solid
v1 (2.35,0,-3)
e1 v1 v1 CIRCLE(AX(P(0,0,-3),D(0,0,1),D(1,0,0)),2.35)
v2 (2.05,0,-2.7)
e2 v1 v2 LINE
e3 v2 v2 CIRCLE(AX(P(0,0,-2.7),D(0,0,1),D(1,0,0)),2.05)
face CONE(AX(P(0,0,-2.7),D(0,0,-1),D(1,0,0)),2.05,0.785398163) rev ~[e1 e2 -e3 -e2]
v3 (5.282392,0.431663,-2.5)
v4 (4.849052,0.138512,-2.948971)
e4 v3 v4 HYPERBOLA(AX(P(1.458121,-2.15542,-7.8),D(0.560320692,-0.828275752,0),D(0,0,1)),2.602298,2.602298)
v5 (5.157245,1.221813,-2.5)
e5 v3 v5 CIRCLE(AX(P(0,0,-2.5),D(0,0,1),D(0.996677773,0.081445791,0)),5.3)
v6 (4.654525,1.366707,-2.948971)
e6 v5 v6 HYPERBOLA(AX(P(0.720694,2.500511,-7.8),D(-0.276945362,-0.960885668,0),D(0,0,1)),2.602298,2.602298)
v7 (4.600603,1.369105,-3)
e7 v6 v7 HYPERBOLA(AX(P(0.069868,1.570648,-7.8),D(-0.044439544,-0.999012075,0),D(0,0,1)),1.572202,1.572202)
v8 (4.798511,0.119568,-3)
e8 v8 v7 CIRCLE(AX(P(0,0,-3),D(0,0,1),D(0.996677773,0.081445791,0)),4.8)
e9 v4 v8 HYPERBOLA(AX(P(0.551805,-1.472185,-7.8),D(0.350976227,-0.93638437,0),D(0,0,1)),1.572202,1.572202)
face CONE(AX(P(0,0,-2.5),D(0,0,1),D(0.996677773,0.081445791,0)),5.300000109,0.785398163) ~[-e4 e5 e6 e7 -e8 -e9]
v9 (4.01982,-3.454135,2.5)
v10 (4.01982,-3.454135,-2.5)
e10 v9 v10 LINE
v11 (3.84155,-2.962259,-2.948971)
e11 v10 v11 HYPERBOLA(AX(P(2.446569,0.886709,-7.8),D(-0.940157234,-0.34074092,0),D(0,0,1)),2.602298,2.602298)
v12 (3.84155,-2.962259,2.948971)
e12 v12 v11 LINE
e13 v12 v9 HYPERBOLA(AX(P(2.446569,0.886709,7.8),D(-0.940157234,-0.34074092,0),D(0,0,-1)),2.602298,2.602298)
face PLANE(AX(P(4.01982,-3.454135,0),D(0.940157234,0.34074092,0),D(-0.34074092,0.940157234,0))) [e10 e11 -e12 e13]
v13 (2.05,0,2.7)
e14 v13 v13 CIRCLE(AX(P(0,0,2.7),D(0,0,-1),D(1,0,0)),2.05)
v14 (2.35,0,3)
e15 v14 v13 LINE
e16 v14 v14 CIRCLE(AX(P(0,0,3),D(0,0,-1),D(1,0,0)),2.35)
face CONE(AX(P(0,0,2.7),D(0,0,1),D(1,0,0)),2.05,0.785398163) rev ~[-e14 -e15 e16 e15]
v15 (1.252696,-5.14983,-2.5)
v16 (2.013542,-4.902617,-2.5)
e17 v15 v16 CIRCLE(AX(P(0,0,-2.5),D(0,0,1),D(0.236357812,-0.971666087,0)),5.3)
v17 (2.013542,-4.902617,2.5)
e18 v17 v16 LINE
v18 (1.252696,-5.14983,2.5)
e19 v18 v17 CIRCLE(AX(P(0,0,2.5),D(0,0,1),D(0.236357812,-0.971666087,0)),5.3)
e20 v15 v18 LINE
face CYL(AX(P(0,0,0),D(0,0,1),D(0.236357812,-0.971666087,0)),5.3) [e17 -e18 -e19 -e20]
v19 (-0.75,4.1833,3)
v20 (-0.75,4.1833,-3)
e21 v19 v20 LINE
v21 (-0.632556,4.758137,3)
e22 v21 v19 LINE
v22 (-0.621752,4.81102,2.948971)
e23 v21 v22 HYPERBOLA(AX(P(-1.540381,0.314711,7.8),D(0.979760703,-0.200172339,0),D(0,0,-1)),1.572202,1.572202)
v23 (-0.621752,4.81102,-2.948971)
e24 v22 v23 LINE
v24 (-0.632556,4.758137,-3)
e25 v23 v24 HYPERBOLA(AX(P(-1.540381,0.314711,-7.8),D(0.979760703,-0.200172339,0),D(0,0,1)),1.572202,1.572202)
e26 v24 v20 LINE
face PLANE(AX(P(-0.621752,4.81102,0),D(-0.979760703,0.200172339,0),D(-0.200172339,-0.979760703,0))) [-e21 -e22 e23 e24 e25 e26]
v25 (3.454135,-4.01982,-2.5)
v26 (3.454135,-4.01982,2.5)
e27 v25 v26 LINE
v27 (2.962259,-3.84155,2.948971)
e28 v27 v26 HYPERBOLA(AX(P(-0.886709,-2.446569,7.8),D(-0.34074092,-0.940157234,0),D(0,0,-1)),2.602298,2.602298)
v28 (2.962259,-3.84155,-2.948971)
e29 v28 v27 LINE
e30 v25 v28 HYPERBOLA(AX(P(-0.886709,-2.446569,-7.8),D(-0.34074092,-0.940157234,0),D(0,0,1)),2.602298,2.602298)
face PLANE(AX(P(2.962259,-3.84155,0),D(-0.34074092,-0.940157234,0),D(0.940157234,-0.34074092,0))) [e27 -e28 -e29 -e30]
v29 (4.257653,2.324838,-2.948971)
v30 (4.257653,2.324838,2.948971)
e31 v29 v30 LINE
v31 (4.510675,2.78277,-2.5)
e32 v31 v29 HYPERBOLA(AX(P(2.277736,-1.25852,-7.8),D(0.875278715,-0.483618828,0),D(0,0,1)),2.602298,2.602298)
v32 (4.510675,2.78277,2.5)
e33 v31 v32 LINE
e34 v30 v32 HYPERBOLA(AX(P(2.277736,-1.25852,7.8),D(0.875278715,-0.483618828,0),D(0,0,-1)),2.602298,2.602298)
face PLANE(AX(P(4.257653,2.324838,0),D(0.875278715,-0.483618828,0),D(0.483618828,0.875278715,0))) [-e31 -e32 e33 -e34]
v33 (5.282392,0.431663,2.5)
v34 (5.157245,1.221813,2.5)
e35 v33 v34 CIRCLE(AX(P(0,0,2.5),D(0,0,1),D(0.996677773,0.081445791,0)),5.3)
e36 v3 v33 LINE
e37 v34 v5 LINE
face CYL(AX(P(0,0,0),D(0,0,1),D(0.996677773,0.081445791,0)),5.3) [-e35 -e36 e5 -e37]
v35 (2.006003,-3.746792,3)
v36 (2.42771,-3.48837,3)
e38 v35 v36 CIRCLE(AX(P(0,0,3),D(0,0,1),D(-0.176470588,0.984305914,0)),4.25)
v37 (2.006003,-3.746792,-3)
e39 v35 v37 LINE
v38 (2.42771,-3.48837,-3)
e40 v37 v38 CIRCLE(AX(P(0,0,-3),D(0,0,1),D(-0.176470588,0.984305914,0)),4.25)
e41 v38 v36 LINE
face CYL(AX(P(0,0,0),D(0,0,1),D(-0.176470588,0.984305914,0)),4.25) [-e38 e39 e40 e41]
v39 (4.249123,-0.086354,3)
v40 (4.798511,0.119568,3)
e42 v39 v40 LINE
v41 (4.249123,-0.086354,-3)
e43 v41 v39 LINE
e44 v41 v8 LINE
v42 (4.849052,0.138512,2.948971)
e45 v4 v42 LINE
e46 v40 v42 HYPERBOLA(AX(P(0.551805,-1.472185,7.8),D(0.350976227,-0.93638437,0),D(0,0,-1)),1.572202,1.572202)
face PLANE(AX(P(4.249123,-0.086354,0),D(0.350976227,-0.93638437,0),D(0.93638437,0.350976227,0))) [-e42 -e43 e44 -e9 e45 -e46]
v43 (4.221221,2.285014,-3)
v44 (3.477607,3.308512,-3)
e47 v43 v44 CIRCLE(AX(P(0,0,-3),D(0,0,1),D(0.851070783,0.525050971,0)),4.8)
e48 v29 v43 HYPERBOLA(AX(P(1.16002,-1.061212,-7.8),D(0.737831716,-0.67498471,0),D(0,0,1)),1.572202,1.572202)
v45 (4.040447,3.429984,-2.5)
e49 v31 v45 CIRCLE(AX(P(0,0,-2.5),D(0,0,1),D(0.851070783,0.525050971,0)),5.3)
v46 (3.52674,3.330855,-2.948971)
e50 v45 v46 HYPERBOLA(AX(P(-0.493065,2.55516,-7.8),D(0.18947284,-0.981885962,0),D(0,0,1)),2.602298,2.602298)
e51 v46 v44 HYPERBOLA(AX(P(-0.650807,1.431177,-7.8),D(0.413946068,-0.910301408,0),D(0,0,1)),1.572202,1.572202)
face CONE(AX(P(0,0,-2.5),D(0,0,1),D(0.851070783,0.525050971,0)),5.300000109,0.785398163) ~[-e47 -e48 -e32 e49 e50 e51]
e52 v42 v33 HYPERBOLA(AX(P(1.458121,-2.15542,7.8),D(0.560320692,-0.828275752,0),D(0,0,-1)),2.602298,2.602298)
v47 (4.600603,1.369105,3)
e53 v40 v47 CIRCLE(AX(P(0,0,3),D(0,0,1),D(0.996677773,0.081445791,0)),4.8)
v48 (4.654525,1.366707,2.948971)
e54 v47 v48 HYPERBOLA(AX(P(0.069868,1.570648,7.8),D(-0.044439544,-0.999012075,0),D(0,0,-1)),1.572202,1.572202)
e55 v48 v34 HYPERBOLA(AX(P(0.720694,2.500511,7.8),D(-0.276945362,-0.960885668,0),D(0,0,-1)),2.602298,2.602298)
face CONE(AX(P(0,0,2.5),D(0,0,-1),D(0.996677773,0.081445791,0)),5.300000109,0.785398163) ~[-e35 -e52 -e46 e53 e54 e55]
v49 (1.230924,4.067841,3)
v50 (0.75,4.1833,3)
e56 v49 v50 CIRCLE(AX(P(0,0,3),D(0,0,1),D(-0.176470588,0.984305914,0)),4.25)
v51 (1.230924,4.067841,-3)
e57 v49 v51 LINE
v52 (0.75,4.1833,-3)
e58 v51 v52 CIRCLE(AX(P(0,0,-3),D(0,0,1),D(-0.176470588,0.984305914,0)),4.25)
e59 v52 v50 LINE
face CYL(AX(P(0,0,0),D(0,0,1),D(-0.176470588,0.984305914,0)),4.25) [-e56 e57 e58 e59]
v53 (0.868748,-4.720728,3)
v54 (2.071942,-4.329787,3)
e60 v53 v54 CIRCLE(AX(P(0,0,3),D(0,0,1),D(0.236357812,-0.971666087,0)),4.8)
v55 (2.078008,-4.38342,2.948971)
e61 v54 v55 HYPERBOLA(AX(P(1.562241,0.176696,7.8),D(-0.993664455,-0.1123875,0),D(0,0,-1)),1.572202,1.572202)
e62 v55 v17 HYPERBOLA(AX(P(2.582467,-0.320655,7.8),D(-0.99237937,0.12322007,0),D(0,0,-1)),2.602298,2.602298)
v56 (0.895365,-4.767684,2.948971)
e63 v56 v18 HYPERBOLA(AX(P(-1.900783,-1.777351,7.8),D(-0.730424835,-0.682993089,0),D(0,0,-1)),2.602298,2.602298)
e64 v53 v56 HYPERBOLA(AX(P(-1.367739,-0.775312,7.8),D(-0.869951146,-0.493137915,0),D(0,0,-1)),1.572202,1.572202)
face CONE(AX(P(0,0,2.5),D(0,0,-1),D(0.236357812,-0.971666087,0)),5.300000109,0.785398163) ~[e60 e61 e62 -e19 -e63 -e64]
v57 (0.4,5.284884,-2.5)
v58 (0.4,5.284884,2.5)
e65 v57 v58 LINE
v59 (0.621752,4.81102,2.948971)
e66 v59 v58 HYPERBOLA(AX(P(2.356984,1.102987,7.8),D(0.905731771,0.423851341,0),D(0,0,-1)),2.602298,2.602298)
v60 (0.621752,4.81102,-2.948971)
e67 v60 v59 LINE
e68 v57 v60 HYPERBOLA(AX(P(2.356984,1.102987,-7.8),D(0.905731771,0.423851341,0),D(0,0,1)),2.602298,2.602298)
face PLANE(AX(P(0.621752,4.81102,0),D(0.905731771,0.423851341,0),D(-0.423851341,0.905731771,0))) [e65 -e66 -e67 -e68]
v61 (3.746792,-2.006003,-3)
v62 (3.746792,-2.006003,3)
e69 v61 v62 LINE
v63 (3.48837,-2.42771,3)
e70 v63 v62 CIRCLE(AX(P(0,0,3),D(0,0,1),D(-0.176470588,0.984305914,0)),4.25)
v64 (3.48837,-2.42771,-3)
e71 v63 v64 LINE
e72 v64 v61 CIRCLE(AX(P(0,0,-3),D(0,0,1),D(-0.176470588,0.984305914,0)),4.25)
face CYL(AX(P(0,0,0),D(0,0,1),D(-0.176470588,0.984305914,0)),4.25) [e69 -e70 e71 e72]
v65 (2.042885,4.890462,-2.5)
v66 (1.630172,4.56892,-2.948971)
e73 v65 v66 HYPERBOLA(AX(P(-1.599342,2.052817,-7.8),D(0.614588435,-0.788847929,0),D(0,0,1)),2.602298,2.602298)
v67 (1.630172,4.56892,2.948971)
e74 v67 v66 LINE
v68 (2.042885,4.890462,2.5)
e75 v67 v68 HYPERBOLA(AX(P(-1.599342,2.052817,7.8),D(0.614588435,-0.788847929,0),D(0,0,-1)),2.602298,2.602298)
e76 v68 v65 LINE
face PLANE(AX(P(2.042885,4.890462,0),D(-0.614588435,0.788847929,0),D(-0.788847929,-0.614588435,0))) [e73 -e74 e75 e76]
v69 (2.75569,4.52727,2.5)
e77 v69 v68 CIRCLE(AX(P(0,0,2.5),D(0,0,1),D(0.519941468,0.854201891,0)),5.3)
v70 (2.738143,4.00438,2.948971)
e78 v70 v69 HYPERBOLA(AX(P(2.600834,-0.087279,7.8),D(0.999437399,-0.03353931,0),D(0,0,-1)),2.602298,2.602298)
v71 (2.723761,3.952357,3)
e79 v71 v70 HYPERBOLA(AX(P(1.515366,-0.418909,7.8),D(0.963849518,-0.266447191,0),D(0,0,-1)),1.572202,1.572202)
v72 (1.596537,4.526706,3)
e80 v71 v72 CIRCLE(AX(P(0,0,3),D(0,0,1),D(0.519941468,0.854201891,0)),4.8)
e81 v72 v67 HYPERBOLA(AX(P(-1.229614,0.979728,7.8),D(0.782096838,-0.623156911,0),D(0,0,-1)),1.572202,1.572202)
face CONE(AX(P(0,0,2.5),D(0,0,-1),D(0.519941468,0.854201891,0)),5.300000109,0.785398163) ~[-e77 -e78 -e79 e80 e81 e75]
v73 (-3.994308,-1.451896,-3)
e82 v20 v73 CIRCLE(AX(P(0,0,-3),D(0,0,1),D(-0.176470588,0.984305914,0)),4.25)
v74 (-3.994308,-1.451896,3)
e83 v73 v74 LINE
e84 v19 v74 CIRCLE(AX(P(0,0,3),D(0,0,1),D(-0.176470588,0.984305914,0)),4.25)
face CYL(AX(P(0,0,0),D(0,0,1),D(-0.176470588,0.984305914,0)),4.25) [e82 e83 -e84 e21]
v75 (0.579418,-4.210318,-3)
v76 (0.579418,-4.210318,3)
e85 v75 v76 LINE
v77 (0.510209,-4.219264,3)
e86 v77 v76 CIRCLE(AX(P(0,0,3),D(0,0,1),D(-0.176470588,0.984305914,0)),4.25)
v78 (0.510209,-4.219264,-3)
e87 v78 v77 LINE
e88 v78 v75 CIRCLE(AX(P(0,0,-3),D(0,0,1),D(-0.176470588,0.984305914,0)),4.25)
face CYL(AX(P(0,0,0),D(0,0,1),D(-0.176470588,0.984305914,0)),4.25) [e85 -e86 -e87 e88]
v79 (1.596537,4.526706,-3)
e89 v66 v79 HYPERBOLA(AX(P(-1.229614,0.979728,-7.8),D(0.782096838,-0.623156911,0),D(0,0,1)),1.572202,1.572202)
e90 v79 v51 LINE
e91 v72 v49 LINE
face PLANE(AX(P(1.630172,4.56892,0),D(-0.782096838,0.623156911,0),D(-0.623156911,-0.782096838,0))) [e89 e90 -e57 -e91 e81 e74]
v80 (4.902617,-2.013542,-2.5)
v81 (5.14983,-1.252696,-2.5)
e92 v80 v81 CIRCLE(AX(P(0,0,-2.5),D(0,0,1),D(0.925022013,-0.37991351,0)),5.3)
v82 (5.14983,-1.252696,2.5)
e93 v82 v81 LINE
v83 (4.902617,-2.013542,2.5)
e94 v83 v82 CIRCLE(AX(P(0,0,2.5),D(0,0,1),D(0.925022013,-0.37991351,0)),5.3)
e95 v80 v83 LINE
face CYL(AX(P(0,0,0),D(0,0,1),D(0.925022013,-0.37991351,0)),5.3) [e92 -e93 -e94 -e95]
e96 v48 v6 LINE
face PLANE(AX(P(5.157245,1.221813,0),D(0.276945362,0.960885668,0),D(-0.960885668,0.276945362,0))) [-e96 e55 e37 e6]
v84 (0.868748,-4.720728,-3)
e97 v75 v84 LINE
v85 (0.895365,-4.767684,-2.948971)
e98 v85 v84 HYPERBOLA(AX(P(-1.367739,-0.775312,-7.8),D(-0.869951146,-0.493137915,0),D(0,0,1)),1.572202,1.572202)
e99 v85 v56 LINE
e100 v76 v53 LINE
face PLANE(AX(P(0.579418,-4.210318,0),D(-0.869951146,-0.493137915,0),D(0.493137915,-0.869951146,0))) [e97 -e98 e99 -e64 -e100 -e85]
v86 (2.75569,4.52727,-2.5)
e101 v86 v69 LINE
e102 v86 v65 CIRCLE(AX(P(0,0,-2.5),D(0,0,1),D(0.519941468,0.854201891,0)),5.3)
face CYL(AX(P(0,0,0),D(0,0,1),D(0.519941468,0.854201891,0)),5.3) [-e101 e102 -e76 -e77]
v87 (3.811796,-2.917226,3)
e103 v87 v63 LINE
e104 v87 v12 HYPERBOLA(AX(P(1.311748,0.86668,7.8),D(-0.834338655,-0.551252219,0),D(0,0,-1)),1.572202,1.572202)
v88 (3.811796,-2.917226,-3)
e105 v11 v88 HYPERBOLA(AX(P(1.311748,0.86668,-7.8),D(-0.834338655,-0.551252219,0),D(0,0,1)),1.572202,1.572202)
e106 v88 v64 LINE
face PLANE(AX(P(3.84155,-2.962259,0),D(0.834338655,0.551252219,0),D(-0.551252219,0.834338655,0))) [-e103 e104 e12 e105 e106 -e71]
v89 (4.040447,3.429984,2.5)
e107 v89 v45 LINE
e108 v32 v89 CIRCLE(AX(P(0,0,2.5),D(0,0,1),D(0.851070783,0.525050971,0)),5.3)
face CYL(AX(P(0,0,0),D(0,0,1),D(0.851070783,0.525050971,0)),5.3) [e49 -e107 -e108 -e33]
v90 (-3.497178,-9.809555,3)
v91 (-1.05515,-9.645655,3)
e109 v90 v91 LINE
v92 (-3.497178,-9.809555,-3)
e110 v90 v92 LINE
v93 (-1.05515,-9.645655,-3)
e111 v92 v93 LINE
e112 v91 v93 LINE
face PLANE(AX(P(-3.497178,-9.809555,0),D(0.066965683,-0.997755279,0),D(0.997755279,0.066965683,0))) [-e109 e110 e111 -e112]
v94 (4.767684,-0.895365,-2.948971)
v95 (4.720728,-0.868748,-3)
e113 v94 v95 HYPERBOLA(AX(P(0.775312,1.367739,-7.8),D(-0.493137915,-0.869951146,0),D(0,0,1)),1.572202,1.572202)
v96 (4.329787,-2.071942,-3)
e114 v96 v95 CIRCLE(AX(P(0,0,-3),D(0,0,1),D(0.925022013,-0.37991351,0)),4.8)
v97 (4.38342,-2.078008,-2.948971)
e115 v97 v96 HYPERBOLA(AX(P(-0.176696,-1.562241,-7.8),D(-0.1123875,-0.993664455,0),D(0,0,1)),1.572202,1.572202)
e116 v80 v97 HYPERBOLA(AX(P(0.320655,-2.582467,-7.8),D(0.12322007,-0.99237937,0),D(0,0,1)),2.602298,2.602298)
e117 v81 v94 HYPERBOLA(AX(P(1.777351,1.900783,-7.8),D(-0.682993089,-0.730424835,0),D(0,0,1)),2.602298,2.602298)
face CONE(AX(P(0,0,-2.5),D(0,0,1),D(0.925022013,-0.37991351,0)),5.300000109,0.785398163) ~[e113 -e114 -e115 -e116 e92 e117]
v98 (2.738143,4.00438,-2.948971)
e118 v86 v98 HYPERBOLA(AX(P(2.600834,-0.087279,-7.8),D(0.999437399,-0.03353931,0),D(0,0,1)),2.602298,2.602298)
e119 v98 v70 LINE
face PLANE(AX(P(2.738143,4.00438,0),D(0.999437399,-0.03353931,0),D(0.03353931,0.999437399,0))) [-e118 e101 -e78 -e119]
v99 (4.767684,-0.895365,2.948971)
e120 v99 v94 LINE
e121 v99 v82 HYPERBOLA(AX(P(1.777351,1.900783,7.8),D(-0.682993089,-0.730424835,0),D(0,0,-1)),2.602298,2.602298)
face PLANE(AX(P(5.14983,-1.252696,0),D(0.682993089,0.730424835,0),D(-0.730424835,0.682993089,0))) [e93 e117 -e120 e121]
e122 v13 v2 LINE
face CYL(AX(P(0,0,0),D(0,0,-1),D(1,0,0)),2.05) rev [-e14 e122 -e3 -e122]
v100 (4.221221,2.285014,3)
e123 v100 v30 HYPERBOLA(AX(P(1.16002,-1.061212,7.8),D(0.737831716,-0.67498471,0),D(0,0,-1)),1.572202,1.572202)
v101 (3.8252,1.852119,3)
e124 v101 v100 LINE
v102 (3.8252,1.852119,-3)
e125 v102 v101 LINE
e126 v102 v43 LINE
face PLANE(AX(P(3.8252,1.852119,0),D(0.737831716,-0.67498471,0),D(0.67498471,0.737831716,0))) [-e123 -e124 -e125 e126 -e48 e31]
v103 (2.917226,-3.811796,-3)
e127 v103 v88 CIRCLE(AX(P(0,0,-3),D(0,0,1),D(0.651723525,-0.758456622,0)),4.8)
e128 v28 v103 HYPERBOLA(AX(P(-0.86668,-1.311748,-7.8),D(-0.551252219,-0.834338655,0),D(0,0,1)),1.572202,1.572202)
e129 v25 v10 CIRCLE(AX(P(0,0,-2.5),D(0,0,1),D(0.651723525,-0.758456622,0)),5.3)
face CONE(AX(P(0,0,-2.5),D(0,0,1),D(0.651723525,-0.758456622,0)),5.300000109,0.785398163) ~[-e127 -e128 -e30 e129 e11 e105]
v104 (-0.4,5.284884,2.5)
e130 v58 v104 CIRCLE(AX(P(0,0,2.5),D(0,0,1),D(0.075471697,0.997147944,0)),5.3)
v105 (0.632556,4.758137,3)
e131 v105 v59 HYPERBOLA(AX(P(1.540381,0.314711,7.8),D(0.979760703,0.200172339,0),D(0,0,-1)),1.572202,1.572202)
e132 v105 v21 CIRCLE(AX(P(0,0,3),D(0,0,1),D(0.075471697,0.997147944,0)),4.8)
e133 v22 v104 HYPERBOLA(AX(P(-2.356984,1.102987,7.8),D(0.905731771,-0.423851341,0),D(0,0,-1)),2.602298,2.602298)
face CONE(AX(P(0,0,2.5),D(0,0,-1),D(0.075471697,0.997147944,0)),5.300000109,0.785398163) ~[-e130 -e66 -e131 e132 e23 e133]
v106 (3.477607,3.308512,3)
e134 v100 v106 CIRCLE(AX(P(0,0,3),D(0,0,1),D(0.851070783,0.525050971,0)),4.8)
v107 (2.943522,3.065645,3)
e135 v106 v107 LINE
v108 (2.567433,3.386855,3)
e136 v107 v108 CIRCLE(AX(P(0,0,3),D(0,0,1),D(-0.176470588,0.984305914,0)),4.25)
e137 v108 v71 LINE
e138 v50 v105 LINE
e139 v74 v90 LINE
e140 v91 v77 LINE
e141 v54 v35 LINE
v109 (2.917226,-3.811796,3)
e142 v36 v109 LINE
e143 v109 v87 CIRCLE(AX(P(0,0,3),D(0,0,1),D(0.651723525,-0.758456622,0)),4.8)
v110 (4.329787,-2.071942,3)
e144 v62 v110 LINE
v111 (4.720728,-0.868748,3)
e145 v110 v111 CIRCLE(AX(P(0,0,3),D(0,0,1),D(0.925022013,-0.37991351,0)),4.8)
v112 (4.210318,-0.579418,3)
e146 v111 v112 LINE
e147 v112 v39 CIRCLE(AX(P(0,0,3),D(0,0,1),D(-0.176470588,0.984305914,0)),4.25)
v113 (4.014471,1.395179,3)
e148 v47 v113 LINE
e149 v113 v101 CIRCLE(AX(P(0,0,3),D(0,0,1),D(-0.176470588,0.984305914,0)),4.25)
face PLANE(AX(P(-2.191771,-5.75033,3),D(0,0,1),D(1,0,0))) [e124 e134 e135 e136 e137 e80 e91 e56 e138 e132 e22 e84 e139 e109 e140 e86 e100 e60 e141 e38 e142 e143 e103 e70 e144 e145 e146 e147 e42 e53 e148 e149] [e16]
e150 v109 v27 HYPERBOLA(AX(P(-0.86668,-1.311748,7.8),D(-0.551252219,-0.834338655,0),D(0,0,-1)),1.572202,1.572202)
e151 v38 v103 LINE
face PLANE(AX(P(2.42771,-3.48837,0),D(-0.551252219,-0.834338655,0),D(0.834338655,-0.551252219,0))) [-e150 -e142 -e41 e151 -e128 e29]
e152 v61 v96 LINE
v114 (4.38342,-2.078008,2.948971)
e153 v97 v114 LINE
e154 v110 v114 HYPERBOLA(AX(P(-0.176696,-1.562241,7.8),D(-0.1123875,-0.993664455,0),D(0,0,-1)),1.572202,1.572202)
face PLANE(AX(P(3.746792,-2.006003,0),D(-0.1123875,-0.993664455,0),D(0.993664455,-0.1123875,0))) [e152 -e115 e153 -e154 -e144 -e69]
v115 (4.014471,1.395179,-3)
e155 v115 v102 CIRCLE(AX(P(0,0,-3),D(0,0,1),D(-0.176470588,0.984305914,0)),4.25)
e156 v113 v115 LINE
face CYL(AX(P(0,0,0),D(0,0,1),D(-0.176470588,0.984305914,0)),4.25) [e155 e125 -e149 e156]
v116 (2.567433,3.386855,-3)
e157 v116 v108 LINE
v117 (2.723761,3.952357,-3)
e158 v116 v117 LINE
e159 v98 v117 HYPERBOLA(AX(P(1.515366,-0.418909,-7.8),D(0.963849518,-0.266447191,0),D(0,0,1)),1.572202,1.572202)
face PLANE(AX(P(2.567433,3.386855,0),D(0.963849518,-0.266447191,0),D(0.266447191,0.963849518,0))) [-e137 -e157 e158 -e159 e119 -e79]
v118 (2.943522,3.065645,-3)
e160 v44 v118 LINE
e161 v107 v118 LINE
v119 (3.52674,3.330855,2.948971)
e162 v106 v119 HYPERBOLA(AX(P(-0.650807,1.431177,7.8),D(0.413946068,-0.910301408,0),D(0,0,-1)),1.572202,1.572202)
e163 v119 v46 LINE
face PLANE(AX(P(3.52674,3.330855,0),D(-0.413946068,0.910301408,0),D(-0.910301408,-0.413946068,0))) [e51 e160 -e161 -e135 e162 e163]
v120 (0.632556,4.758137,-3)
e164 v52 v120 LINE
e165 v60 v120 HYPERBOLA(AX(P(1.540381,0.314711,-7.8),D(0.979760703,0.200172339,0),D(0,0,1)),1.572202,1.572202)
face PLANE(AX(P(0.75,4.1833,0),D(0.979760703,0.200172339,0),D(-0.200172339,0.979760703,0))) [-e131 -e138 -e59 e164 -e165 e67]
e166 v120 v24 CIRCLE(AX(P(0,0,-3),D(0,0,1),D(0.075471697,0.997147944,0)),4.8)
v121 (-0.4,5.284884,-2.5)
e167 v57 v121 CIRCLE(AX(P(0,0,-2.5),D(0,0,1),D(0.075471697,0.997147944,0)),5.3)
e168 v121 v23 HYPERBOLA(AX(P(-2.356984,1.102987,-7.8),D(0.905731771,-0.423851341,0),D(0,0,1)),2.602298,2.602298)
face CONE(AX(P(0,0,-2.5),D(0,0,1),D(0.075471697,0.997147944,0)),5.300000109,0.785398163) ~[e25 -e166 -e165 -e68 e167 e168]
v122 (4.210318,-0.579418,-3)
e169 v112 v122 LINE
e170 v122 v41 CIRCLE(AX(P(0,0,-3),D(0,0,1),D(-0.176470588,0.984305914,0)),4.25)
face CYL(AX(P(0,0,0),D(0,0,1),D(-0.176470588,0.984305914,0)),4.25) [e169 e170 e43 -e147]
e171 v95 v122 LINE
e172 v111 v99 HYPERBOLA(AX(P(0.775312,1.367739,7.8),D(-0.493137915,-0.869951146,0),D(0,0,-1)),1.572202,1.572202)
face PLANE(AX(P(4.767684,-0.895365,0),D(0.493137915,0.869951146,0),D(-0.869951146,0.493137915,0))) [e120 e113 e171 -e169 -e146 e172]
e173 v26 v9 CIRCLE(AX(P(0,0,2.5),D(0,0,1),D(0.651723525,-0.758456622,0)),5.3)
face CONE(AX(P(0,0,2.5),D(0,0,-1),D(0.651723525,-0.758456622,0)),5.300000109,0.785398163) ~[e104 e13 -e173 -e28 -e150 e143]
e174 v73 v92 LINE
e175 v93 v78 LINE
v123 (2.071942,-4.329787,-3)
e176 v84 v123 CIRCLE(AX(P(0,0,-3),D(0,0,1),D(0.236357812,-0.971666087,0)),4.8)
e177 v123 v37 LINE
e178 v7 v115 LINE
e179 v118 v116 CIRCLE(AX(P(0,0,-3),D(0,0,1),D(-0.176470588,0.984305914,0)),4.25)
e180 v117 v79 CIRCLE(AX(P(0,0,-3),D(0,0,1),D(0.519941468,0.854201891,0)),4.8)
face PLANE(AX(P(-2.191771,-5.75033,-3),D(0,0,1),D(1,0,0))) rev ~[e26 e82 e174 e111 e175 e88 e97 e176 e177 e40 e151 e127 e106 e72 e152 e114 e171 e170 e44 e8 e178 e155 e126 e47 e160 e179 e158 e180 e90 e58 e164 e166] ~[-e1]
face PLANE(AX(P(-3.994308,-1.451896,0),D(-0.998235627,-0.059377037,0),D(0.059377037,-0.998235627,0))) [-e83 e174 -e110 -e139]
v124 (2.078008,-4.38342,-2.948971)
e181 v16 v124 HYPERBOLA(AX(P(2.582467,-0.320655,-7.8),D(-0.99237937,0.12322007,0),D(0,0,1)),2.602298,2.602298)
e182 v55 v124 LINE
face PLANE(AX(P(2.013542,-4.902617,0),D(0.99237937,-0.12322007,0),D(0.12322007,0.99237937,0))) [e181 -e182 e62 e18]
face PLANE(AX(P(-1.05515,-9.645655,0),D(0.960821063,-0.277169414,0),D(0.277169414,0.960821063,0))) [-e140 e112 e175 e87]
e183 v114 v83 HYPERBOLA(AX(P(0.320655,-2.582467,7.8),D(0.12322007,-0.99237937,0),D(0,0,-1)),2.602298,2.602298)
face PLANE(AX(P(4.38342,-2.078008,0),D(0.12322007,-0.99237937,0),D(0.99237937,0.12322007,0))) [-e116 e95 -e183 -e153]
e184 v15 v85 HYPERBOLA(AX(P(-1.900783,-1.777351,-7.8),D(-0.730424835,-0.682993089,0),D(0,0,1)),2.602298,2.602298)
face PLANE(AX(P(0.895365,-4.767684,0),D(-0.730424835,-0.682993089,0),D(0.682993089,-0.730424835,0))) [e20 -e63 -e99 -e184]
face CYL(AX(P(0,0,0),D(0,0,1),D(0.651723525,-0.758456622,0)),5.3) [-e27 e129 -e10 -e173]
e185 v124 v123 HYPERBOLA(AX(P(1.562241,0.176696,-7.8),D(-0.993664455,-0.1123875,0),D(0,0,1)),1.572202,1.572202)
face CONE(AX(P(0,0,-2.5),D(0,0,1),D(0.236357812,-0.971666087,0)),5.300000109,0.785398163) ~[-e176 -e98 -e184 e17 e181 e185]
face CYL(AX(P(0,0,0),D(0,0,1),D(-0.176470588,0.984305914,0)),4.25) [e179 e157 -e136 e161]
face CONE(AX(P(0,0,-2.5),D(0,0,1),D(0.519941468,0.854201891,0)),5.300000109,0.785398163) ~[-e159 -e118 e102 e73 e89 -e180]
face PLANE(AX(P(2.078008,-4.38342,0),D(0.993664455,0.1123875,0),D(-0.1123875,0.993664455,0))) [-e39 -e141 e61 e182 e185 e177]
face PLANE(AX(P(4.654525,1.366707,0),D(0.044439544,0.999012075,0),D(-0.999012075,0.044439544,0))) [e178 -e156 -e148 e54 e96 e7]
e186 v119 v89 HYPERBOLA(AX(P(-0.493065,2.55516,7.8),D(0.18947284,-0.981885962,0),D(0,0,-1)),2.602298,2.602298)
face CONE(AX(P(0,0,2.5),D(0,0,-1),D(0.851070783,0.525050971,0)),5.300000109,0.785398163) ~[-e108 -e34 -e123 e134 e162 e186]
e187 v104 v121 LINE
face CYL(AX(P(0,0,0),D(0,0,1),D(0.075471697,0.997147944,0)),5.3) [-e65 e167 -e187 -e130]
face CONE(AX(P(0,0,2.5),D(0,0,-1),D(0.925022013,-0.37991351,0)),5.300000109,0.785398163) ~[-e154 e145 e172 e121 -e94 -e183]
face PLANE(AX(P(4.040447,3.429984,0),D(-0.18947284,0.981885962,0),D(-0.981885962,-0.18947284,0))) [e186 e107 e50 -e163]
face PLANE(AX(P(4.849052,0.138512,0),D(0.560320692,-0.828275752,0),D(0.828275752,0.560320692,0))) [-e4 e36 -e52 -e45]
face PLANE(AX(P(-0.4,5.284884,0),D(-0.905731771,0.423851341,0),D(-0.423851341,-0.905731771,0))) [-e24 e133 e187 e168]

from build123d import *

# Parameters (mm, degrees)
SKETCH_1_R               = 2.05
EXTRUDE_1_DEPTH          = 3
PATTERN_CIRCULAR_1_COUNT = 7
PATTERN_CIRCULAR_1_ANGLE = 162
CHAMFER_1_SIZE           = 0.5
CHAMFER_2_SIZE           = 0.5
CHAMFER_3_SIZE           = 0.3
EXTRUDE_2_DEPTH          = 3


with BuildPart() as part:
    # 스케치1 → 보스-돌출1 (new, symmetric)
    with BuildSketch(Plane.XY):
        with BuildLine():
            ThreePointArc((-0.75, 4.183300133), (0, -4.25), (0.75, 4.183300133))
            Line((0.75, 4.183300133), (0.621752267, 4.811019676))
            Line((0.621752267, 4.811019676), (0.4, 5.284884105))
            ThreePointArc((0.4, 5.284884105), (0, 5.3), (-0.4, 5.284884105))
            Line((-0.4, 5.284884105), (-0.621752267, 4.811019676))
            Line((-0.621752267, 4.811019676), (-0.75, 4.183300133))
        make_face()
        Circle(SKETCH_1_R, mode=Mode.SUBTRACT)
    extrude_1 = extrude(amount=EXTRUDE_1_DEPTH, both=True)

    # 원형 패턴1: 보스-돌출1 ×7 about axis
    pattern_circular_1_axis = Axis((0, 0, 0), (0, 0, -1))
    for i in range(1, PATTERN_CIRCULAR_1_COUNT):
        add(extrude_1.rotate(pattern_circular_1_axis, i * PATTERN_CIRCULAR_1_ANGLE / (PATTERN_CIRCULAR_1_COUNT - 1)))

    # 모따기1
    chamfer_1_edges = [part.edges().sort_by_distance(p)[0] for p in [
        (0, 5.3, -3),
        (1.63779007, -5.040599536, -3),
        (3.74766594, -3.74766594, -3),
        (5.040599536, -1.63779007, -3),
        (5.234748205, 0.829102665, -3),
        (4.28779007, 3.115261837, -3),
        (2.406149649, 4.722334578, -3),
    ]]
    chamfer(chamfer_1_edges, length=CHAMFER_1_SIZE)

    # 모따기2
    chamfer_2_edges = [part.edges().sort_by_distance(p)[0] for p in [
        (0, 5.3, 3),
        (2.406149649, 4.722334578, 3),
        (4.28779007, 3.115261837, 3),
        (5.234748205, 0.829102665, 3),
        (5.040599536, -1.63779007, 3),
        (3.74766594, -3.74766594, 3),
        (1.63779007, -5.040599536, 3),
    ]]
    chamfer(chamfer_2_edges, length=CHAMFER_2_SIZE)

    # 모따기3
    chamfer_3_edges = [part.edges().sort_by_distance(p)[0] for p in [
        (-2.05, 0, 3),
        (-2.05, 0, -3),
    ]]
    chamfer(chamfer_3_edges, length=CHAMFER_3_SIZE)

    # 스케치4 → 보스-돌출2 (add, symmetric)
    with BuildSketch(Plane.XY):
        Polygon((-1.055150369, -9.645655488), (0.510208527, -4.219263829), (-3.994308358, -1.451895569), (-3.497178156, -9.809555456), align=None)
    extrude(amount=EXTRUDE_2_DEPTH, both=True)


solid = part.part
